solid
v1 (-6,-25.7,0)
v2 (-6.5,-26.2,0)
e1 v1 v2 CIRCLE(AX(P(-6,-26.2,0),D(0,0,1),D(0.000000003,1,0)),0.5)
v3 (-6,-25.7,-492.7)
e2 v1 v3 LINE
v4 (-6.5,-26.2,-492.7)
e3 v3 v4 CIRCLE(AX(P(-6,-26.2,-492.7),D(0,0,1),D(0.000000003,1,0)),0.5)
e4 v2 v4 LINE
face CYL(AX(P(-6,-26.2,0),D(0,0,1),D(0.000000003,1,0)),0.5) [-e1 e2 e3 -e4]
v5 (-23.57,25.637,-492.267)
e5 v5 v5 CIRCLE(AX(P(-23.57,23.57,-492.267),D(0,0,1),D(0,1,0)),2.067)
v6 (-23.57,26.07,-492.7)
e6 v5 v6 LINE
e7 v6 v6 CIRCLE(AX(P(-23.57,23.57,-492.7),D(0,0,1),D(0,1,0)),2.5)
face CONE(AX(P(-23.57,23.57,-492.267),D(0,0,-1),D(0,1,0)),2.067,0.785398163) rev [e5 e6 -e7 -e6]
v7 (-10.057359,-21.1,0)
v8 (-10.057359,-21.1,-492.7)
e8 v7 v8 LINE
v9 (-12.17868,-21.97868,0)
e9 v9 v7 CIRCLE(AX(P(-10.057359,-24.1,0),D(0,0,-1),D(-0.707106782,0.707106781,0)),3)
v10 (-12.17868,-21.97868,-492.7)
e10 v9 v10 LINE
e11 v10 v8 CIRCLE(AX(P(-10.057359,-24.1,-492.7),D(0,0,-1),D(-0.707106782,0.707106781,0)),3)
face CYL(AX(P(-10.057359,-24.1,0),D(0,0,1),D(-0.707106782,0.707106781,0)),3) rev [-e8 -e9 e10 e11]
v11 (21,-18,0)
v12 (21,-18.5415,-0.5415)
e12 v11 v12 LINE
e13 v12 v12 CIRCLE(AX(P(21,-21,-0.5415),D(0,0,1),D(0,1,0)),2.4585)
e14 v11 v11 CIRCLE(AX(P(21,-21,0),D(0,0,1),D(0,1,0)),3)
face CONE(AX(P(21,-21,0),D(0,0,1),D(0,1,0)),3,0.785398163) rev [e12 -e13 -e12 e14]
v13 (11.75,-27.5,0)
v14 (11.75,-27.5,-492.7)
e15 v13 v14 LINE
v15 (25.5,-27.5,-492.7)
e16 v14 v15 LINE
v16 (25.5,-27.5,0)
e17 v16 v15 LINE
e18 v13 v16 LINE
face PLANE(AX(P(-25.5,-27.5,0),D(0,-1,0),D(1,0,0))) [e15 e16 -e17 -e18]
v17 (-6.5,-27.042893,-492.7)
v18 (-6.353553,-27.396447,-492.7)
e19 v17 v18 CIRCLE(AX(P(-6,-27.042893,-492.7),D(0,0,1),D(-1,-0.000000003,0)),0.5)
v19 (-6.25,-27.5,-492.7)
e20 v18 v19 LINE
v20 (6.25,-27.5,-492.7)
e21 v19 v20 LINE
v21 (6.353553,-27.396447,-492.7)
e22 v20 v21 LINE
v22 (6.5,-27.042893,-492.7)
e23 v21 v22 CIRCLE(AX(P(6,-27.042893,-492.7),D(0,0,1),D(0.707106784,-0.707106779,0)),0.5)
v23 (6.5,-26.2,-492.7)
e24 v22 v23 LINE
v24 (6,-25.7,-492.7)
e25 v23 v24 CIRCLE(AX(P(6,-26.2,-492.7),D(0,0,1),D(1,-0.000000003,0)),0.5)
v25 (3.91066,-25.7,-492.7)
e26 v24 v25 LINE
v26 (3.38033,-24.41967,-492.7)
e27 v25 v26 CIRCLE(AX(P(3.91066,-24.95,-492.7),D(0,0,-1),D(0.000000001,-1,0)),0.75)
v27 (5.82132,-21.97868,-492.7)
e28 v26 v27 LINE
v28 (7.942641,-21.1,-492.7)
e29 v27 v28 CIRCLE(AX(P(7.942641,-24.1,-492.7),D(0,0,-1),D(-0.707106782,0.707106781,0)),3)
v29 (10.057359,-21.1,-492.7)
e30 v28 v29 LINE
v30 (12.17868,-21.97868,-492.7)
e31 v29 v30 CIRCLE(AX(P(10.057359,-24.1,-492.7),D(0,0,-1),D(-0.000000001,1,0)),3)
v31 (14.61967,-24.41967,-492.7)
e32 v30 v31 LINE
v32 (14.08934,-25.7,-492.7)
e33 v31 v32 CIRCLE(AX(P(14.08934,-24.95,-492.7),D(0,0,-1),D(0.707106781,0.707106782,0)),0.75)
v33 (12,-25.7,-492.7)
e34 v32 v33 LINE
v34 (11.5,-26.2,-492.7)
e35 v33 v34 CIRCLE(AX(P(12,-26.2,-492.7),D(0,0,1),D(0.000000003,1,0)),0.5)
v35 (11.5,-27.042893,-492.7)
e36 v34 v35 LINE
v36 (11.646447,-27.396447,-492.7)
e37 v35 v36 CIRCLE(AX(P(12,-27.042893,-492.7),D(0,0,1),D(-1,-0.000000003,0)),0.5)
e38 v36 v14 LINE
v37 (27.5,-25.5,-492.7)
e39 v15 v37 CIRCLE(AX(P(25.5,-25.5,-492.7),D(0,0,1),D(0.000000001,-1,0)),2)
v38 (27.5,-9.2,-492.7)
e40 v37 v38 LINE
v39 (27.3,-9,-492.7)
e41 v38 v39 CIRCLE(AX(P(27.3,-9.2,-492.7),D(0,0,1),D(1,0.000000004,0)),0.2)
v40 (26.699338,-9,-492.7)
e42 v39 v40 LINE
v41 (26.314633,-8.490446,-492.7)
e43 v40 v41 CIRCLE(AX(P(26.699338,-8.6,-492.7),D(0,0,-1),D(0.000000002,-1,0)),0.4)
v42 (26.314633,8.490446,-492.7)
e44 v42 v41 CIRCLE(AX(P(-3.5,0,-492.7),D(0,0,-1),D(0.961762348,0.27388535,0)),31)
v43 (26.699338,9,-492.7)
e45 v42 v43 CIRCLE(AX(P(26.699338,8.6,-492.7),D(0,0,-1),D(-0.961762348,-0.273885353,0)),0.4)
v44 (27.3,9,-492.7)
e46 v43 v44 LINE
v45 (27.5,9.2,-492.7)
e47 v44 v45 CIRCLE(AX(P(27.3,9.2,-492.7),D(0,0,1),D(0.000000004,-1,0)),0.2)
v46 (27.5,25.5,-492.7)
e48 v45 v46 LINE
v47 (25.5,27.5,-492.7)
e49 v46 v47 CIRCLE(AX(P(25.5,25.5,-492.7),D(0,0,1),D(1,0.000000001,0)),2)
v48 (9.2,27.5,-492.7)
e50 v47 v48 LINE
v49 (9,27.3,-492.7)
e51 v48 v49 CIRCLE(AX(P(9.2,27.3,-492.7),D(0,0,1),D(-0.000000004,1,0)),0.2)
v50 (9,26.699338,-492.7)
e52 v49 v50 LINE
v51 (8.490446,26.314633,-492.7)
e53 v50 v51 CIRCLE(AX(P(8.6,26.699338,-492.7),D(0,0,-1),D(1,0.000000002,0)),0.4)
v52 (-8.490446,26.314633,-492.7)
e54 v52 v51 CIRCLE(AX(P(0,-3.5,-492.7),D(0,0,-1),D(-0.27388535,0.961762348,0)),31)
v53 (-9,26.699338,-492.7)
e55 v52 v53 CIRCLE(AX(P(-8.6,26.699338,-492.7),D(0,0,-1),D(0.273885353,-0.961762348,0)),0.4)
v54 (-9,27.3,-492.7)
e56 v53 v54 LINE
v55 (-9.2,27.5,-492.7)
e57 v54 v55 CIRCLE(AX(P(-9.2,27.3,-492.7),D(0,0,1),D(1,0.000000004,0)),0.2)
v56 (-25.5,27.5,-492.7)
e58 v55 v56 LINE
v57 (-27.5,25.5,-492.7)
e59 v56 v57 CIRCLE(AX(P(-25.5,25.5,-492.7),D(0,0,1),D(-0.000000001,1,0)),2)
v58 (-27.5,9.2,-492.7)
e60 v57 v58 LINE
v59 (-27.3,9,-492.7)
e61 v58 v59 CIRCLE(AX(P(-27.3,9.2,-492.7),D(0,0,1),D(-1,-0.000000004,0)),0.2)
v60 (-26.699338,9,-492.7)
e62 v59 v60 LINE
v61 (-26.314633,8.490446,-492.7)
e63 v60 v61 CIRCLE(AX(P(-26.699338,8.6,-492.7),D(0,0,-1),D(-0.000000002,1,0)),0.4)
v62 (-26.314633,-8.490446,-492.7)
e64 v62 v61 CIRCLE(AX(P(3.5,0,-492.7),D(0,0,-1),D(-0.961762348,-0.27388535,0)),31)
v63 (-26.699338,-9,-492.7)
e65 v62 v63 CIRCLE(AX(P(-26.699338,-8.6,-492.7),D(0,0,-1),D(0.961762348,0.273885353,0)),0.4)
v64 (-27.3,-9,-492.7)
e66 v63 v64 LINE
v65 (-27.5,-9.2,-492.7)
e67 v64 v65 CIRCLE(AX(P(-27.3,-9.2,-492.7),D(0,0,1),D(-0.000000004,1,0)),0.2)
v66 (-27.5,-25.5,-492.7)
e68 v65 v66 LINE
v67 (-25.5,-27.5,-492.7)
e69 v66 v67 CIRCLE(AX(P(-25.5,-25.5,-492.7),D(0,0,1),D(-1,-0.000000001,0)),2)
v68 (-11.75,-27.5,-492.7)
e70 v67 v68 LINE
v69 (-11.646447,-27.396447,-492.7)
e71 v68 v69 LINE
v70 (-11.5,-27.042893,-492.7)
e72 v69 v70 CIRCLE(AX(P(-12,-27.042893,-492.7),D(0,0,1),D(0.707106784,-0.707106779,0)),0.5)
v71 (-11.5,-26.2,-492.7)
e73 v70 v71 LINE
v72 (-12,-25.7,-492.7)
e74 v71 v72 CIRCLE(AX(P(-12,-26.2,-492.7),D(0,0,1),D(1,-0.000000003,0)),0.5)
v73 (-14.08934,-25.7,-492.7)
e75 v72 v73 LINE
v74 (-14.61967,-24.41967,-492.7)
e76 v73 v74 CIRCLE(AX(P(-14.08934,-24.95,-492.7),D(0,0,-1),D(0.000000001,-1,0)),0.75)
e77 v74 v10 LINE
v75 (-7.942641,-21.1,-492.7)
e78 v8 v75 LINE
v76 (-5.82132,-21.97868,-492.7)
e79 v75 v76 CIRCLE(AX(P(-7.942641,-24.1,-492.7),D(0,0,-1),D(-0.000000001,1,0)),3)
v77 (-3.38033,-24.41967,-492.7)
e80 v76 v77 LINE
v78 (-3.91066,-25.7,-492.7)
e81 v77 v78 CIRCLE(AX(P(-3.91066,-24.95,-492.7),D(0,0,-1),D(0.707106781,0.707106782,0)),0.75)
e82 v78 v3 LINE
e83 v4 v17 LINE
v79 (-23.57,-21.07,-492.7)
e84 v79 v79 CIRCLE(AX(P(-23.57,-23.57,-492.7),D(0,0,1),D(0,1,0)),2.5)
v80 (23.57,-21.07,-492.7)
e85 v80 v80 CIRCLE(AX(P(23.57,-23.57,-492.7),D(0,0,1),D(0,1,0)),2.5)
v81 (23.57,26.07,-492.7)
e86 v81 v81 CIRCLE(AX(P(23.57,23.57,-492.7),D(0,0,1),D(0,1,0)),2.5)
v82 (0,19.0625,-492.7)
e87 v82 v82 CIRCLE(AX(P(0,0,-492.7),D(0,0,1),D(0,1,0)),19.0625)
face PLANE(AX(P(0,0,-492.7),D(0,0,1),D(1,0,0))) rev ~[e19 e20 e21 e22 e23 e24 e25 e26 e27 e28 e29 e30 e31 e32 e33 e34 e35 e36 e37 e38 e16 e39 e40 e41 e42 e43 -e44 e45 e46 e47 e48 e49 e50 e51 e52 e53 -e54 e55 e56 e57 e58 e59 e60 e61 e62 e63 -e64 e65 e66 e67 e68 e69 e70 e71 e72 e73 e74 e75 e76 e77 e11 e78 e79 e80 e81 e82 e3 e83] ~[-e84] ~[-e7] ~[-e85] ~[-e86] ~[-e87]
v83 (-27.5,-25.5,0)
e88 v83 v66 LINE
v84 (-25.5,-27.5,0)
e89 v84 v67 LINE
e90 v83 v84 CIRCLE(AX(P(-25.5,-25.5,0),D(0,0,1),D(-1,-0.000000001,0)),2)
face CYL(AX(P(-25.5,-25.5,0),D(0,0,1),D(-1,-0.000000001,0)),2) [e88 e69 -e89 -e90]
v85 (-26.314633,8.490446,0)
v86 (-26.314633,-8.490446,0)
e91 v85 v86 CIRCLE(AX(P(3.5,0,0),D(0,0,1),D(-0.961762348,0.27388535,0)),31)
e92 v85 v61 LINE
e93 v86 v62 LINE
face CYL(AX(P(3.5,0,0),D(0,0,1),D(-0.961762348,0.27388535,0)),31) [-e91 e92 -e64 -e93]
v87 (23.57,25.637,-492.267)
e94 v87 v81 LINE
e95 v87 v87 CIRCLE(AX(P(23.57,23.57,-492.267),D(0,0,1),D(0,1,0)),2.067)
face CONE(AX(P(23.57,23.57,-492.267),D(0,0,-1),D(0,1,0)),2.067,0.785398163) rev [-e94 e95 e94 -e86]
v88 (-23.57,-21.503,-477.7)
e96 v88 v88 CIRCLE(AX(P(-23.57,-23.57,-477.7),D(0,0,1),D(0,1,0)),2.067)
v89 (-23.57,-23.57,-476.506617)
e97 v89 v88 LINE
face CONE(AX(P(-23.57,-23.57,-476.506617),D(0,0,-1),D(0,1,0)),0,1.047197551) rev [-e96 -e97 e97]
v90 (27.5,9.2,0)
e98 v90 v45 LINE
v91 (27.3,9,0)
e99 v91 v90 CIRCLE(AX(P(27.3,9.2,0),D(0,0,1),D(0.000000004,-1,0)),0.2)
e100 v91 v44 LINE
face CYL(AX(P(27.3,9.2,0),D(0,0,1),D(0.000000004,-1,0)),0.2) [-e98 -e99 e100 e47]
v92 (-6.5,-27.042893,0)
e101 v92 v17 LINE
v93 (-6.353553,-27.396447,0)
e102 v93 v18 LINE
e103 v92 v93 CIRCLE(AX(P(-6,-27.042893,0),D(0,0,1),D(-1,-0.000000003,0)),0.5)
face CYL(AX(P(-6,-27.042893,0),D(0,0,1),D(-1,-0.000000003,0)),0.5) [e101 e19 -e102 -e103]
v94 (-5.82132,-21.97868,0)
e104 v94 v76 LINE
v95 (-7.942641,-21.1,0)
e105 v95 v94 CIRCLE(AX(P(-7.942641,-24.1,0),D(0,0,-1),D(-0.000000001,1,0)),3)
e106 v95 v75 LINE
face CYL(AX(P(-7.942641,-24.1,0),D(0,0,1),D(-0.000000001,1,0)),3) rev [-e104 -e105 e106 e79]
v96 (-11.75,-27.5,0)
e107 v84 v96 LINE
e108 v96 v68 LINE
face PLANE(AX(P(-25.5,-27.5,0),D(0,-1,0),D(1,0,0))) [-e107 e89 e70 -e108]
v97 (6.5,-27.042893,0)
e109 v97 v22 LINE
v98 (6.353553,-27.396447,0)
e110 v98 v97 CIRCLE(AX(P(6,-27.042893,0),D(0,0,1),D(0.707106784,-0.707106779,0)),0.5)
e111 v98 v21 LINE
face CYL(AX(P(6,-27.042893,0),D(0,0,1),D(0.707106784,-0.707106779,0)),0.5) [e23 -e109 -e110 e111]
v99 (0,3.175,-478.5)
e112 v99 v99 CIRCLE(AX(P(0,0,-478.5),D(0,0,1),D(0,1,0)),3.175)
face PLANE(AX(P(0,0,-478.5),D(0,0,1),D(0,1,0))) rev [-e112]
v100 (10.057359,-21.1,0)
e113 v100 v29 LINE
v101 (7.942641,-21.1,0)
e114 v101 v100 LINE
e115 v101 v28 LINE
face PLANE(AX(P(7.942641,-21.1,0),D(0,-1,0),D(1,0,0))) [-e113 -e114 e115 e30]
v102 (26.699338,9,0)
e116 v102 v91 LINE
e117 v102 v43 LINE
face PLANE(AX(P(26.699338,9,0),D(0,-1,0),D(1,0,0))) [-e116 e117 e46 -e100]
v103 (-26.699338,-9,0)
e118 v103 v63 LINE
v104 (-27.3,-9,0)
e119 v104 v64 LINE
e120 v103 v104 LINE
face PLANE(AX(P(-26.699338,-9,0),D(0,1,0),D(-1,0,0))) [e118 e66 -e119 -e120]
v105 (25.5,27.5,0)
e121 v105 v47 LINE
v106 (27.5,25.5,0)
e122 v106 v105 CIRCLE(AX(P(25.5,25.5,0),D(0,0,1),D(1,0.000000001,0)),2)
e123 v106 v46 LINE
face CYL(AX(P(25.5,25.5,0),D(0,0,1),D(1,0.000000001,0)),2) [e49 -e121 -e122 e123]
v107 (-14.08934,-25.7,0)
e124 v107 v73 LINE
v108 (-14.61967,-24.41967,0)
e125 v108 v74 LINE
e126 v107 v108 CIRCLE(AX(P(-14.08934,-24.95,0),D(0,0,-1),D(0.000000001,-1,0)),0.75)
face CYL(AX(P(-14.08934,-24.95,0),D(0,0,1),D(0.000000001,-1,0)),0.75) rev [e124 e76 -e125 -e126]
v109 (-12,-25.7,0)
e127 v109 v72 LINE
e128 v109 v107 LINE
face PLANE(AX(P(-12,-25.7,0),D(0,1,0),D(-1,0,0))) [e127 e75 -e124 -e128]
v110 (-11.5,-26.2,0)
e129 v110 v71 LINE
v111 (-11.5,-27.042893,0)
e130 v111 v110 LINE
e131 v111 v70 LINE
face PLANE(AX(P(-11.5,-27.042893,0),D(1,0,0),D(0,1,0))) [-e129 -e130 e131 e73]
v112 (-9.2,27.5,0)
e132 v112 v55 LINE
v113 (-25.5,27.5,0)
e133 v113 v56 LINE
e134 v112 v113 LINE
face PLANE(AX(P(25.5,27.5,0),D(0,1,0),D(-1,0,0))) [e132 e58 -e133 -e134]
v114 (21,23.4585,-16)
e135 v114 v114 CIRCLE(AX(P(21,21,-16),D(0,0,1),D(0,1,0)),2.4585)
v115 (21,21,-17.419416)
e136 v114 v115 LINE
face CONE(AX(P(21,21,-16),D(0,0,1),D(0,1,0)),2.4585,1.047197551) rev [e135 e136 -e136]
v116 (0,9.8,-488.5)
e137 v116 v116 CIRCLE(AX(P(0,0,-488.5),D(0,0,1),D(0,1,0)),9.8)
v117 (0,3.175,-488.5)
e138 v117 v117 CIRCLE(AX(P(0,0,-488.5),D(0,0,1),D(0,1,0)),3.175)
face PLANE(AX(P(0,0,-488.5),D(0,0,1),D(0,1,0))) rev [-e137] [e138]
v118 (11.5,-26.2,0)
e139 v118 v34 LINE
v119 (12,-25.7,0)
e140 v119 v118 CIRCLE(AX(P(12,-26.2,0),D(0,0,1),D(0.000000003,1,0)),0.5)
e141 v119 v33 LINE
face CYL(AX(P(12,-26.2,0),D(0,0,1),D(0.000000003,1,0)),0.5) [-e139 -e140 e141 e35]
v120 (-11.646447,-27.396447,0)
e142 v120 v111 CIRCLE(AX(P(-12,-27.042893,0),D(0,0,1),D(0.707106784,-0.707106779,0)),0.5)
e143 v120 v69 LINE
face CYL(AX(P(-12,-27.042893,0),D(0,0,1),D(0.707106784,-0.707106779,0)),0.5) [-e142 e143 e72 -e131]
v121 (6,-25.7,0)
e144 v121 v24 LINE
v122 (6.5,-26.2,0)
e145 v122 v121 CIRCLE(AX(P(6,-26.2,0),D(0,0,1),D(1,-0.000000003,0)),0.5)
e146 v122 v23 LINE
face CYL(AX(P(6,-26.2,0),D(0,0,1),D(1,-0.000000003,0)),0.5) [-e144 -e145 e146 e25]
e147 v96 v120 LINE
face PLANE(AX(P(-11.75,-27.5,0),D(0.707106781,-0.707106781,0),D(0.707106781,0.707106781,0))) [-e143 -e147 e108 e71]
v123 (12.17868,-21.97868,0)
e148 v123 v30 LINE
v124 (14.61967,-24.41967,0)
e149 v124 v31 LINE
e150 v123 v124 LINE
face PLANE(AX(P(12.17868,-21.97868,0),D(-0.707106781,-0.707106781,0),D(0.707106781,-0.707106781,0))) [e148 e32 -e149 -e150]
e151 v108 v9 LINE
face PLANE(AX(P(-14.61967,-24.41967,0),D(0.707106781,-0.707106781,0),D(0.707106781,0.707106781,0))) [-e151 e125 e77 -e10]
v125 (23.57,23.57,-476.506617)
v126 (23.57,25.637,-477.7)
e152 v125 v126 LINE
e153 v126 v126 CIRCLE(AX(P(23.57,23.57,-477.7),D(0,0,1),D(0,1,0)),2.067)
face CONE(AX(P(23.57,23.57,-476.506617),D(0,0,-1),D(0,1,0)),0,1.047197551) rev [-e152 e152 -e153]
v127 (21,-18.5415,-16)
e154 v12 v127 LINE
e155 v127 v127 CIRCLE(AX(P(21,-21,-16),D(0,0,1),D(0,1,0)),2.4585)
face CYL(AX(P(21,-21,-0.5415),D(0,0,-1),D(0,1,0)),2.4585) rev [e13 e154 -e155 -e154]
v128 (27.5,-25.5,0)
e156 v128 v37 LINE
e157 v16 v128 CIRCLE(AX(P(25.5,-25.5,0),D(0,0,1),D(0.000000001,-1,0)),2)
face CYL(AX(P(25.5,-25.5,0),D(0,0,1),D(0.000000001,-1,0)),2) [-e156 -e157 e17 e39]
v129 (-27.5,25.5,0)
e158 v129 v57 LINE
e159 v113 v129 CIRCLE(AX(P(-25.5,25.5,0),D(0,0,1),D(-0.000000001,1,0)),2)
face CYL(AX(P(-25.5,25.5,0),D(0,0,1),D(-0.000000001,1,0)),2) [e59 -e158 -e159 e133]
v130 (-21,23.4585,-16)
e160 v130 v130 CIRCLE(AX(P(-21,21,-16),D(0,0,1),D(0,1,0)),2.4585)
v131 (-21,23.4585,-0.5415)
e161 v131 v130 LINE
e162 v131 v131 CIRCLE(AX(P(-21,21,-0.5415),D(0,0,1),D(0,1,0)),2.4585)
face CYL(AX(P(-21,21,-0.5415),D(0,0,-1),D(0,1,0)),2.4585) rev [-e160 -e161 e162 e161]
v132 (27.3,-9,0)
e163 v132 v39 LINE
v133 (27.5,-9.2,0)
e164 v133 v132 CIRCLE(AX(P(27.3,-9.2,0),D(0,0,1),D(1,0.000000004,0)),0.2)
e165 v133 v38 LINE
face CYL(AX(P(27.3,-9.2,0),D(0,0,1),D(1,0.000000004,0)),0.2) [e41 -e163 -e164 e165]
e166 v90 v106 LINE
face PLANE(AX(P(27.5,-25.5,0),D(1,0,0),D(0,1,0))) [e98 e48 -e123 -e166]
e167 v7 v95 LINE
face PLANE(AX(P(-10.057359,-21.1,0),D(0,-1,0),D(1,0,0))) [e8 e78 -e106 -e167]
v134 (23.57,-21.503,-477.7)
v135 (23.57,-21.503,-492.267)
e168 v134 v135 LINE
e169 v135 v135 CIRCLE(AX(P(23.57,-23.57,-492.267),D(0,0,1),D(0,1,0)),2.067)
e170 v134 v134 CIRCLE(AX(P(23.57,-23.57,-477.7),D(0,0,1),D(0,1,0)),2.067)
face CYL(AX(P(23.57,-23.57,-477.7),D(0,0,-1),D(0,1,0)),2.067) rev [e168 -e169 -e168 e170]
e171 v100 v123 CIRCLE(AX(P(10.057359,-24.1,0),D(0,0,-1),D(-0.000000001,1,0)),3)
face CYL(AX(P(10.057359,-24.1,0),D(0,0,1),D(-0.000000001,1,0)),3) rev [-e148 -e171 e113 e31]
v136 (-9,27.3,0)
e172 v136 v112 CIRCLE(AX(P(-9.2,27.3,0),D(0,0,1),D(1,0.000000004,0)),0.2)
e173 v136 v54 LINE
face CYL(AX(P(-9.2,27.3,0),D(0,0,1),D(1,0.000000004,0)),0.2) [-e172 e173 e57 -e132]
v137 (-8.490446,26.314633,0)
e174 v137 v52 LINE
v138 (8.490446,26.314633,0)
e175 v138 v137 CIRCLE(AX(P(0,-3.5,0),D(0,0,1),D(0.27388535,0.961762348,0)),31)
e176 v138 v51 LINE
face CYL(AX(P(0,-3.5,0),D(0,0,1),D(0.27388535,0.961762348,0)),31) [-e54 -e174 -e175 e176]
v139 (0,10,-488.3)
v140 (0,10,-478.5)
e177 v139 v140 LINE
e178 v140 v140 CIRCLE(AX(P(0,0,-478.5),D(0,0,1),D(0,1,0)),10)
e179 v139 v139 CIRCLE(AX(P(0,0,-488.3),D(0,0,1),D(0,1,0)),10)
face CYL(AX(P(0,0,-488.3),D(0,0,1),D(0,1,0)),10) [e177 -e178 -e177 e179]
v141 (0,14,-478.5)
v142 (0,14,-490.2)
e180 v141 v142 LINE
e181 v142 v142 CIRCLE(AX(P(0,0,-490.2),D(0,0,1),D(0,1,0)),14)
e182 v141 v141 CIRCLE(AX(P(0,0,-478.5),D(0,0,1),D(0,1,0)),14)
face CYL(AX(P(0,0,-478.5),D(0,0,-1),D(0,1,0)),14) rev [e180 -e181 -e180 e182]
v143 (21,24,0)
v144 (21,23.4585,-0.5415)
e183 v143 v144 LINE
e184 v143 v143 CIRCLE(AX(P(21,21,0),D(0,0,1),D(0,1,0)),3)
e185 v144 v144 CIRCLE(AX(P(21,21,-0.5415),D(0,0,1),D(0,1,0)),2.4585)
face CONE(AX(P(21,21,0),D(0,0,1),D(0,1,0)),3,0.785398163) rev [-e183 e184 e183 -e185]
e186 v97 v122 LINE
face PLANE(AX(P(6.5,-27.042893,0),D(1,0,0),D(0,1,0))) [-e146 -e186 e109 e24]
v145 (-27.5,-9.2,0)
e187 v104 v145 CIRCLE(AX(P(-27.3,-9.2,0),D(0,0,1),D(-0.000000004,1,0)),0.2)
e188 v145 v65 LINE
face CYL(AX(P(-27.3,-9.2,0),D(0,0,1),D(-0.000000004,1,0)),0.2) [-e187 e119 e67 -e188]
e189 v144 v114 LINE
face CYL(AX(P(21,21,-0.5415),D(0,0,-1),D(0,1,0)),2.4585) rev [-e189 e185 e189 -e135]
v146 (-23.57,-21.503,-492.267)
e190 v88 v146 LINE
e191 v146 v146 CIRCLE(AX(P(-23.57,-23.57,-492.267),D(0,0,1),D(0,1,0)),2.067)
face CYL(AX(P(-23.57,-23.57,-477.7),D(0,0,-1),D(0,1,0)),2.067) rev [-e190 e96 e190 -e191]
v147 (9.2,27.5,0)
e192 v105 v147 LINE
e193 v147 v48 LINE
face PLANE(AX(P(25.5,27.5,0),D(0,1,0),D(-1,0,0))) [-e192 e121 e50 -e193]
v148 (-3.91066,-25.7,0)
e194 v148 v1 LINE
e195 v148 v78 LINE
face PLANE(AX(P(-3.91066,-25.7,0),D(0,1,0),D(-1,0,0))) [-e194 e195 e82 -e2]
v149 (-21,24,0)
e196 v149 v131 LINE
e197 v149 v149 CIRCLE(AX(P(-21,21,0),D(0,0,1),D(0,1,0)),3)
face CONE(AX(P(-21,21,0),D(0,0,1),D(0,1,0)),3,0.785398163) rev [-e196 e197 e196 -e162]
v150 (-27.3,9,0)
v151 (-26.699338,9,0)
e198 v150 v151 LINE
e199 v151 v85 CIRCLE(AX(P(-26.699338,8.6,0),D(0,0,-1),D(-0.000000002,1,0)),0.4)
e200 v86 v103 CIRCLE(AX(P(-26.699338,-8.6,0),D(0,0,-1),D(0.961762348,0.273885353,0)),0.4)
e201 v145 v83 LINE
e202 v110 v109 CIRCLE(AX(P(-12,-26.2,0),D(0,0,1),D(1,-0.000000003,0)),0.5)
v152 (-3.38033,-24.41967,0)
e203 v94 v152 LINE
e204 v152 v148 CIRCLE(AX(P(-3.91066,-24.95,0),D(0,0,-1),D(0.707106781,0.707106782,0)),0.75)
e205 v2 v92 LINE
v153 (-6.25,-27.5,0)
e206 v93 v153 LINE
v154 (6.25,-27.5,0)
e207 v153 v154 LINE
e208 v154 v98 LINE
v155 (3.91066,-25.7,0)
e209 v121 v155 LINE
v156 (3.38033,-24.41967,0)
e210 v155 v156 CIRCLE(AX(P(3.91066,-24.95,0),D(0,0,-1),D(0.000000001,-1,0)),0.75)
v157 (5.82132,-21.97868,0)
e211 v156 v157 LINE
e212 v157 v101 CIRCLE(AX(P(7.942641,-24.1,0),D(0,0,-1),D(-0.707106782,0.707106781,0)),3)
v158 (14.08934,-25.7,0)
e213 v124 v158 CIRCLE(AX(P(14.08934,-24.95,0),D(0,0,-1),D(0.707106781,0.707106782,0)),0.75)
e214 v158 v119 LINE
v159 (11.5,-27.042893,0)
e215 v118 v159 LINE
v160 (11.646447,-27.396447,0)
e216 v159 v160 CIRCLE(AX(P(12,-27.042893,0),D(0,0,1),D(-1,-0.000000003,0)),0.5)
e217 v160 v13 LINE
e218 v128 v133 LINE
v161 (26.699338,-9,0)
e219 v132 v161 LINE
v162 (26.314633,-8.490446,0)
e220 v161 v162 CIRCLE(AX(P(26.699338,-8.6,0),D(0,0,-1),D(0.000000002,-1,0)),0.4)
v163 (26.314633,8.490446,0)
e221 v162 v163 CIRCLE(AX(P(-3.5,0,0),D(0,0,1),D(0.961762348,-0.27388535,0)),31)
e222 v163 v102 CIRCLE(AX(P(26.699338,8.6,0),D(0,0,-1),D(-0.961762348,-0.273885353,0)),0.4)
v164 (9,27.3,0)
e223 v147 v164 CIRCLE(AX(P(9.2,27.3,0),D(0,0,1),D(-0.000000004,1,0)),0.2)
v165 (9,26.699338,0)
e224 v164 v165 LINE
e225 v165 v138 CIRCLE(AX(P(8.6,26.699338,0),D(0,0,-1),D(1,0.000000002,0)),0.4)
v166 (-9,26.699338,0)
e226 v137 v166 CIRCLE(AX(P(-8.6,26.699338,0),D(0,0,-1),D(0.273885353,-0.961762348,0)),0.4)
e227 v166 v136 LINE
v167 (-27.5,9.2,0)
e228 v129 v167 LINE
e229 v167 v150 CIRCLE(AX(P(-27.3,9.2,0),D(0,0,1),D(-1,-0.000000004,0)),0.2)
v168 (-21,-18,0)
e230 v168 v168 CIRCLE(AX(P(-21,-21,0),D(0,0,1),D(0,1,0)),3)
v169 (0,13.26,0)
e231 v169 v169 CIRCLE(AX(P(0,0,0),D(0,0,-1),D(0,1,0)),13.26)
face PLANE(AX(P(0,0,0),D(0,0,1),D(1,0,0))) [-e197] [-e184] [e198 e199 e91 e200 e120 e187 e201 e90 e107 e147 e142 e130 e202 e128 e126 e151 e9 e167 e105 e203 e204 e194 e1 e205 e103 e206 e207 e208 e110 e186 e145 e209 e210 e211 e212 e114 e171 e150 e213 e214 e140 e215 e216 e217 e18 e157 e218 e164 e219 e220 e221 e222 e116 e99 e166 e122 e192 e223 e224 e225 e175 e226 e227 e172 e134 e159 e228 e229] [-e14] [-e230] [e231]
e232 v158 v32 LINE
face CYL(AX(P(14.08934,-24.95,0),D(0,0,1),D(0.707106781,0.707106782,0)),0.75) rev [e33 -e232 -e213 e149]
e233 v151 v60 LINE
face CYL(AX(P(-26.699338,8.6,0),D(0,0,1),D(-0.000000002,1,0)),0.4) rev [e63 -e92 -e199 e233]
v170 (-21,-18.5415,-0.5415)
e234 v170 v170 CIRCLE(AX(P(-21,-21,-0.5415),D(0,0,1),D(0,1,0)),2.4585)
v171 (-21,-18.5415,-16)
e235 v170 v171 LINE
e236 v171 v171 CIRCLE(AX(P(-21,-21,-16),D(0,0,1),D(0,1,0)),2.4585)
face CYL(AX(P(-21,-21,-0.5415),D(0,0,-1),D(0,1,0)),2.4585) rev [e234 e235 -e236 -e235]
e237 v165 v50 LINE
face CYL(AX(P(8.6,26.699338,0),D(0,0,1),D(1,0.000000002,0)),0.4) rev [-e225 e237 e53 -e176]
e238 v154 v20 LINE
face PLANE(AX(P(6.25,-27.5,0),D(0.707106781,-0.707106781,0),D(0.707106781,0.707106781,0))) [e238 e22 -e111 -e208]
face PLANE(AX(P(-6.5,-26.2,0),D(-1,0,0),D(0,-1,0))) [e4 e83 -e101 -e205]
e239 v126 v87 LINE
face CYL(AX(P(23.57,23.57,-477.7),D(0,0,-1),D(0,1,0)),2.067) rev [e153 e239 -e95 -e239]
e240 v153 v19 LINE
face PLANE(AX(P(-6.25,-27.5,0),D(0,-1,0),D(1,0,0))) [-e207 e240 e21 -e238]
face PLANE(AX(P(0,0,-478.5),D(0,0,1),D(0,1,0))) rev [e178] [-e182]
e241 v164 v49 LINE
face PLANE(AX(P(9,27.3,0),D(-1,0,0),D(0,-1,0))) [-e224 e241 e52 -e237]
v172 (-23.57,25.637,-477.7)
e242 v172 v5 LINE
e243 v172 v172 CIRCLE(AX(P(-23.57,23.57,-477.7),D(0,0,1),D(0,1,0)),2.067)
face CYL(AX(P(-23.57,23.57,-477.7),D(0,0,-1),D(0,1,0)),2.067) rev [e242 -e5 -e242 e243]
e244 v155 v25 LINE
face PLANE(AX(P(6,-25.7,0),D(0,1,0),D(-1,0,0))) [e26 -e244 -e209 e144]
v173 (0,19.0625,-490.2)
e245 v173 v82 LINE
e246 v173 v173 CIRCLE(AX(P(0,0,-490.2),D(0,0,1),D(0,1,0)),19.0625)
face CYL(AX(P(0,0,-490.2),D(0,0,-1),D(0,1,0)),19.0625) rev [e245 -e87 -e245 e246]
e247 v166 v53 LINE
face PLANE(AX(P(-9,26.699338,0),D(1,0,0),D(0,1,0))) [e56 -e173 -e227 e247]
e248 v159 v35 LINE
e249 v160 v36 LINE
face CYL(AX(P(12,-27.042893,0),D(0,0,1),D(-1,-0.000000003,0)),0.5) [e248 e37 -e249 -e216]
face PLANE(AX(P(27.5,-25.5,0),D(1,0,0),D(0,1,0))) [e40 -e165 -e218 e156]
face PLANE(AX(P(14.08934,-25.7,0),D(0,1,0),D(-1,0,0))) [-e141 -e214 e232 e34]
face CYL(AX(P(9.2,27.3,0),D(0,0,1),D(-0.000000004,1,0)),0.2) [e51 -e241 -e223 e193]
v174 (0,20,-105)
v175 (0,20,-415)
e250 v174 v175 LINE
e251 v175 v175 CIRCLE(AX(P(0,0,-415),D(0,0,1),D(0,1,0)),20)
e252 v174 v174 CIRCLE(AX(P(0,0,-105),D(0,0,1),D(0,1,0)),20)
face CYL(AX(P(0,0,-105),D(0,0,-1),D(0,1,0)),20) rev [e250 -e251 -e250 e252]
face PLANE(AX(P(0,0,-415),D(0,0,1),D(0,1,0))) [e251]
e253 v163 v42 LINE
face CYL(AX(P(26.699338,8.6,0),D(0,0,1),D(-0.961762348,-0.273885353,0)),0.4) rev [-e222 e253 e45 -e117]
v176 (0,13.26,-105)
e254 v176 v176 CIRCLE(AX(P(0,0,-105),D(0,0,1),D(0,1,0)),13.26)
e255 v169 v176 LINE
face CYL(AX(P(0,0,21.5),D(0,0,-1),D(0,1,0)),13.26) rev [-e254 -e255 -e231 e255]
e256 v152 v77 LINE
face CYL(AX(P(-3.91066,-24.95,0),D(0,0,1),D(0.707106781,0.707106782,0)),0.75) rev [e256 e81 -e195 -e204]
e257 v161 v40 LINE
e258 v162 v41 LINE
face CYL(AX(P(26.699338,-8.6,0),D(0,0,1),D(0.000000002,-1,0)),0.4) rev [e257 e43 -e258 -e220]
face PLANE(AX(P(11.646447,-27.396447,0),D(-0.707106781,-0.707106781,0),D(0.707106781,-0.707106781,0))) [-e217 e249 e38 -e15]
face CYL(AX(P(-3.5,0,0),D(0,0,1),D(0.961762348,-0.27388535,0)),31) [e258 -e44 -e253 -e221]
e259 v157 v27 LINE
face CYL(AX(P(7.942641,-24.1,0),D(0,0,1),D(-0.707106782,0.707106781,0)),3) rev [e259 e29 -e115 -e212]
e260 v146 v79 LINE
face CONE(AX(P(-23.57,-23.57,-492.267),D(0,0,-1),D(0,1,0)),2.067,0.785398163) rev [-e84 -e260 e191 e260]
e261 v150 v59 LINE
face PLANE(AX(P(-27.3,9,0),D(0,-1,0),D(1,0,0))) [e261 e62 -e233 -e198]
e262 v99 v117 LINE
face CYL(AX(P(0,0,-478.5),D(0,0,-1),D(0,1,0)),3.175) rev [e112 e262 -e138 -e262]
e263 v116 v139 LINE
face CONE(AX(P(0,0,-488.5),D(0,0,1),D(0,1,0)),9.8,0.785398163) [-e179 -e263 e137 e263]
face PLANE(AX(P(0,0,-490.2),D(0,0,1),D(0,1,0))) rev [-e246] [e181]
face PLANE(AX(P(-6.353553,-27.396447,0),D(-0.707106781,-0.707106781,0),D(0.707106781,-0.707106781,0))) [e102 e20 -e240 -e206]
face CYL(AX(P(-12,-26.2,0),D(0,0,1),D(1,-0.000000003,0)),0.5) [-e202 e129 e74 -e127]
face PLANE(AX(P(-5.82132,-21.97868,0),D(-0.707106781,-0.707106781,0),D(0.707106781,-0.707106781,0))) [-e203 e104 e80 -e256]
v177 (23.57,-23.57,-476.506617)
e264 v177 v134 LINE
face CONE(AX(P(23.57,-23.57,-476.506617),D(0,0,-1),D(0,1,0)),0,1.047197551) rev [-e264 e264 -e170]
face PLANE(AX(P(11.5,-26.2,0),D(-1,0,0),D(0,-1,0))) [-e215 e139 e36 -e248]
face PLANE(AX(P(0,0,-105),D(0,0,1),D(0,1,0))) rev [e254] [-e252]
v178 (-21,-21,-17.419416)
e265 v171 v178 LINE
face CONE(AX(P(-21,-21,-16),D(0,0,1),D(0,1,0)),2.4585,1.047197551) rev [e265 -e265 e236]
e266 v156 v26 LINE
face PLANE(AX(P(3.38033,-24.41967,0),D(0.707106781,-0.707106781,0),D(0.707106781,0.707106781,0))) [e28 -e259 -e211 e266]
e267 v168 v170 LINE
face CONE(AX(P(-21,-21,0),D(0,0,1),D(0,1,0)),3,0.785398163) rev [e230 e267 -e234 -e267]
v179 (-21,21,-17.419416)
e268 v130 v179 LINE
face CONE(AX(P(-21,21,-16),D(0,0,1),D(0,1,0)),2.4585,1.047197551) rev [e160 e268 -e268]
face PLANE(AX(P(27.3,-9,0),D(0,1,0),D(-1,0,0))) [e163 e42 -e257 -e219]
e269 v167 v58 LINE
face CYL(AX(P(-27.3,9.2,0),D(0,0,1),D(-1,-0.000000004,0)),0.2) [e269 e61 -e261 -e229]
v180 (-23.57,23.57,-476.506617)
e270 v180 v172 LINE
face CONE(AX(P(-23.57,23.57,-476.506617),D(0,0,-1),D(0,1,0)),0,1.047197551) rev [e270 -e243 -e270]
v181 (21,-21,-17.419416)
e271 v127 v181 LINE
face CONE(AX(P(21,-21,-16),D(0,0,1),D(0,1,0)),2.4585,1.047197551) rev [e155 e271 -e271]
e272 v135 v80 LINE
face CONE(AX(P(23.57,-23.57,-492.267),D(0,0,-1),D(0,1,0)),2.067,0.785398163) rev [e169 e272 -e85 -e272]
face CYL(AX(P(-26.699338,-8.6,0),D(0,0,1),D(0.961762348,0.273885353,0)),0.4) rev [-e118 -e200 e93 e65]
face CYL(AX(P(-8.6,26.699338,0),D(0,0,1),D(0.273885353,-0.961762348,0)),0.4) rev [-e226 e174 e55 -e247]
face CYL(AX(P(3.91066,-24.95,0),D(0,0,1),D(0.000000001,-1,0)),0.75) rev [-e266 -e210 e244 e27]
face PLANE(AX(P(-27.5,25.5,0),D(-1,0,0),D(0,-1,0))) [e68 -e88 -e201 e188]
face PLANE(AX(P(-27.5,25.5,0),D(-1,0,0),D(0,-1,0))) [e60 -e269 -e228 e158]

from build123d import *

# Parameters (mm, degrees)
BOSS_EXTRUDE1_DEPTH = 492.7
SKETCH2_W           = 110
SKETCH2_H           = 110
CUT_EXTRUDE1_DEPTH  = 492.7


with BuildPart() as part:
    # Sketch1 → Boss-Extrude1 (new body)
    with BuildSketch(Plane.XY):
        with BuildLine():
            Line((-25.5, -27.5), (25.5, -27.5))
            ThreePointArc((25.5, -27.5), (26.914213562, -26.914213562), (27.5, -25.5))
            Line((27.5, -25.5), (27.5, 25.5))
            ThreePointArc((27.5, 25.5), (26.914213562, 26.914213562), (25.5, 27.5))
            Line((25.5, 27.5), (-25.5, 27.5))
            ThreePointArc((-25.5, 27.5), (-26.914213562, 26.914213562), (-27.5, 25.5))
            Line((-27.5, 25.5), (-27.5, -25.5))
            ThreePointArc((-27.5, -25.5), (-26.914213562, -26.914213562), (-25.5, -27.5))
        make_face()
    extrude(amount=-BOSS_EXTRUDE1_DEPTH)

    # Sketch2 → Cut-Extrude1 (cut)
    with BuildSketch(Plane.XY):
        Rectangle(SKETCH2_W, SKETCH2_H)
        with BuildLine():
            Line((-26.699337741, -9), (-27.3, -9))
            ThreePointArc((-27.3, -9), (-27.441421356, -9.058578644), (-27.5, -9.2))
            Line((-27.5, -9.2), (-27.5, -25.5))
            ThreePointArc((-27.5, -25.5), (-26.914213562, -26.914213562), (-25.5, -27.5))
            Line((-25.5, -27.5), (-11.75, -27.5))
            Line((-11.75, -27.5), (-11.646446609, -27.396446609))
            ThreePointArc((-11.646446609, -27.396446609), (-11.538060234, -27.234234935), (-11.5, -27.042893219))
            Line((-11.5, -27.042893219), (-11.5, -26.2))
            ThreePointArc((-11.5, -26.2), (-11.646446609, -25.846446609), (-12, -25.7))
            Line((-12, -25.7), (-14.089339828, -25.7))
            ThreePointArc((-14.089339828, -25.7), (-14.782249478, -25.237012574), (-14.619669914, -24.419669914))
            Line((-14.619669914, -24.419669914), (-12.178679656, -21.978679656))
            ThreePointArc((-12.178679656, -21.978679656), (-11.20540961, -21.328361402), (-10.057359313, -21.1))
            Line((-10.057359313, -21.1), (-7.942640687, -21.1))
            ThreePointArc((-7.942640687, -21.1), (-6.79459039, -21.328361402), (-5.821320344, -21.978679656))
            Line((-5.821320344, -21.978679656), (-3.380330086, -24.419669914))
            ThreePointArc((-3.380330086, -24.419669914), (-3.217750522, -25.237012574), (-3.910660172, -25.7))
            Line((-3.910660172, -25.7), (-6, -25.7))
            ThreePointArc((-6, -25.7), (-6.353553391, -25.846446609), (-6.5, -26.2))
            Line((-6.5, -26.2), (-6.5, -27.042893219))
            ThreePointArc((-6.5, -27.042893219), (-6.461939766, -27.234234935), (-6.353553391, -27.396446609))
            Line((-6.353553391, -27.396446609), (-6.25, -27.5))
            Line((-6.25, -27.5), (6.25, -27.5))
            Line((6.25, -27.5), (6.353553391, -27.396446609))
            ThreePointArc((6.353553391, -27.396446609), (6.461939766, -27.234234935), (6.5, -27.042893219))
            Line((6.5, -27.042893219), (6.5, -26.2))
            ThreePointArc((6.5, -26.2), (6.353553391, -25.846446609), (6, -25.7))
            Line((6, -25.7), (3.910660172, -25.7))
            ThreePointArc((3.910660172, -25.7), (3.217750522, -25.237012574), (3.380330086, -24.419669914))
            Line((3.380330086, -24.419669914), (5.821320344, -21.978679656))
            ThreePointArc((5.821320344, -21.978679656), (6.79459039, -21.328361402), (7.942640687, -21.1))
            Line((7.942640687, -21.1), (10.057359313, -21.1))
            ThreePointArc((10.057359313, -21.1), (11.20540961, -21.328361402), (12.178679656, -21.978679656))
            Line((12.178679656, -21.978679656), (14.619669914, -24.419669914))
            ThreePointArc((14.619669914, -24.419669914), (14.782249478, -25.237012574), (14.089339828, -25.7))
            Line((14.089339828, -25.7), (12, -25.7))
            ThreePointArc((12, -25.7), (11.646446609, -25.846446609), (11.5, -26.2))
            Line((11.5, -26.2), (11.5, -27.042893219))
            ThreePointArc((11.5, -27.042893219), (11.538060234, -27.234234935), (11.646446609, -27.396446609))
            Line((11.646446609, -27.396446609), (11.75, -27.5))
            Line((11.75, -27.5), (25.5, -27.5))
            ThreePointArc((25.5, -27.5), (26.914213562, -26.914213562), (27.5, -25.5))
            Line((27.5, -25.5), (27.5, -9.2))
            ThreePointArc((27.5, -9.2), (27.441421356, -9.058578644), (27.3, -9))
            Line((27.3, -9), (26.699337741, -9))
            ThreePointArc((26.699337741, -9), (26.380102987, -8.841016954), (26.314632802, -8.49044586))
            ThreePointArc((26.314632802, -8.49044586), (27.5, 0), (26.314632802, 8.49044586))
            ThreePointArc((26.314632802, 8.49044586), (26.380102987, 8.841016954), (26.699337741, 9))
            Line((26.699337741, 9), (27.3, 9))
            ThreePointArc((27.3, 9), (27.441421356, 9.058578644), (27.5, 9.2))
            Line((27.5, 9.2), (27.5, 25.5))
            ThreePointArc((27.5, 25.5), (26.914213562, 26.914213562), (25.5, 27.5))
            Line((25.5, 27.5), (9.2, 27.5))
            ThreePointArc((9.2, 27.5), (9.058578644, 27.441421356), (9, 27.3))
            Line((9, 27.3), (9, 26.699337741))
            ThreePointArc((9, 26.699337741), (8.841016954, 26.380102987), (8.49044586, 26.314632802))
            ThreePointArc((8.49044586, 26.314632802), (0, 27.5), (-8.49044586, 26.314632802))
            ThreePointArc((-8.49044586, 26.314632802), (-8.841016954, 26.380102987), (-9, 26.699337741))
            Line((-9, 26.699337741), (-9, 27.3))
            ThreePointArc((-9, 27.3), (-9.058578644, 27.441421356), (-9.2, 27.5))
            Line((-9.2, 27.5), (-25.5, 27.5))
            ThreePointArc((-25.5, 27.5), (-26.914213562, 26.914213562), (-27.5, 25.5))
            Line((-27.5, 25.5), (-27.5, 9.2))
            ThreePointArc((-27.5, 9.2), (-27.441421356, 9.058578644), (-27.3, 9))
            Line((-27.3, 9), (-26.699337741, 9))
            ThreePointArc((-26.699337741, 9), (-26.380102987, 8.841016954), (-26.314632802, 8.49044586))
            ThreePointArc((-26.314632802, 8.49044586), (-27.5, 0), (-26.314632802, -8.49044586))
            ThreePointArc((-26.314632802, -8.49044586), (-26.380102987, -8.841016954), (-26.699337741, -9))
        make_face(mode=Mode.SUBTRACT)
    extrude(amount=-CUT_EXTRUDE1_DEPTH, mode=Mode.SUBTRACT)

    # Sketch3 → Cut-Revolve1 (revolve, cut)
    with BuildSketch(Plane(origin=(0, 0, 0), x_dir=(0, 0, -1), z_dir=(1, 0, 0))):
        Polygon((478.5, 0), (478.5, 3.175), (488.5, 3.175), (488.5, 9.8), (488.3, 10), (478.5, 10), (478.5, 14), (490.2, 14), (490.2, 19.0625), (492.7, 19.0625), (492.7, 0), align=None)
    revolve(axis=Axis((0, 0, -492.7), (0, 0, 1)), mode=Mode.SUBTRACT)

    # Sketch4 → Cut-Revolve2 (revolve, cut)
    with BuildSketch(Plane(origin=(0, 0, 0), x_dir=(0, 0, -1), z_dir=(1, 0, 0))):
        Polygon((-21.5, 0), (-21.5, 13.26), (105, 13.26), (105, 20), (415, 20), (415, 0), align=None)
    revolve(axis=Axis((0, 0, -415), (0, 0, 1)), mode=Mode.SUBTRACT)

    # Sketch5 → Cut-Revolve3 (revolve, cut)
    with BuildSketch(Plane(origin=(21, 0, 0), x_dir=(0, 0, -1), z_dir=(1, 0, 0))):
        Polygon((0, 21), (0, 24), (0.5415, 23.4585), (16, 23.4585), (17.419415637, 21), align=None)
    revolve(axis=Axis((21, 21, -17.419415637), (0, 0, 1)), mode=Mode.SUBTRACT)

    # Sketch6 → Cut-Revolve4 (revolve, cut)
    with BuildSketch(Plane(origin=(21, 0, 0), x_dir=(0, 0, -1), z_dir=(1, 0, 0))):
        Polygon((0, -21), (0, -18), (0.5415, -18.5415), (16, -18.5415), (17.419415637, -21), align=None)
    revolve(axis=Axis((21, -21, -17.419415637), (0, 0, 1)), mode=Mode.SUBTRACT)

    # Sketch7 → Cut-Revolve5 (revolve, cut)
    with BuildSketch(Plane(origin=(-21, 0, 0), x_dir=(0, 0, -1), z_dir=(1, 0, 0))):
        Polygon((0, 21), (0, 24), (0.5415, 23.4585), (16, 23.4585), (17.419415637, 21), align=None)
    revolve(axis=Axis((-21, 21, -17.419415637), (0, 0, 1)), mode=Mode.SUBTRACT)

    # Sketch8 → Cut-Revolve6 (revolve, cut)
    with BuildSketch(Plane(origin=(-21, 0, 0), x_dir=(0, 0, -1), z_dir=(1, 0, 0))):
        Polygon((0, -21), (0, -18), (0.5415, -18.5415), (16, -18.5415), (17.419415637, -21), align=None)
    revolve(axis=Axis((-21, -21, -17.419415637), (0, 0, 1)), mode=Mode.SUBTRACT)

    # Sketch9 → Cut-Revolve7 (revolve, cut)
    with BuildSketch(Plane(origin=(-23.57, 0, 0), x_dir=(0, 0, -1), z_dir=(1, 0, 0))):
        Polygon((476.506616994, 23.57), (477.7, 25.637), (492.267, 25.637), (492.7, 26.07), (492.7, 23.57), align=None)
    revolve(axis=Axis((-23.57, 23.57, -492.7), (0, 0, 1)), mode=Mode.SUBTRACT)

    # Sketch10 → Cut-Revolve8 (revolve, cut)
    with BuildSketch(Plane(origin=(-23.57, 0, 0), x_dir=(0, 0, -1), z_dir=(1, 0, 0))):
        Polygon((476.506616994, -23.57), (477.7, -21.503), (492.267, -21.503), (492.7, -21.07), (492.7, -23.57), align=None)
    revolve(axis=Axis((-23.57, -23.57, -492.7), (0, 0, 1)), mode=Mode.SUBTRACT)

    # Sketch11 → Cut-Revolve9 (revolve, cut)
    with BuildSketch(Plane(origin=(23.57, 0, 0), x_dir=(0, 0, -1), z_dir=(1, 0, 0))):
        Polygon((476.506616994, 23.57), (477.7, 25.637), (492.267, 25.637), (492.7, 26.07), (492.7, 23.57), align=None)
    revolve(axis=Axis((23.57, 23.57, -492.7), (0, 0, 1)), mode=Mode.SUBTRACT)

    # Sketch12 → Cut-Revolve10 (revolve, cut)
    with BuildSketch(Plane(origin=(23.57, 0, 0), x_dir=(0, 0, -1), z_dir=(1, 0, 0))):
        Polygon((476.506616994, -23.57), (477.7, -21.503), (492.267, -21.503), (492.7, -21.07), (492.7, -23.57), align=None)
    revolve(axis=Axis((23.57, -23.57, -492.7), (0, 0, 1)), mode=Mode.SUBTRACT)


solid = part.part
